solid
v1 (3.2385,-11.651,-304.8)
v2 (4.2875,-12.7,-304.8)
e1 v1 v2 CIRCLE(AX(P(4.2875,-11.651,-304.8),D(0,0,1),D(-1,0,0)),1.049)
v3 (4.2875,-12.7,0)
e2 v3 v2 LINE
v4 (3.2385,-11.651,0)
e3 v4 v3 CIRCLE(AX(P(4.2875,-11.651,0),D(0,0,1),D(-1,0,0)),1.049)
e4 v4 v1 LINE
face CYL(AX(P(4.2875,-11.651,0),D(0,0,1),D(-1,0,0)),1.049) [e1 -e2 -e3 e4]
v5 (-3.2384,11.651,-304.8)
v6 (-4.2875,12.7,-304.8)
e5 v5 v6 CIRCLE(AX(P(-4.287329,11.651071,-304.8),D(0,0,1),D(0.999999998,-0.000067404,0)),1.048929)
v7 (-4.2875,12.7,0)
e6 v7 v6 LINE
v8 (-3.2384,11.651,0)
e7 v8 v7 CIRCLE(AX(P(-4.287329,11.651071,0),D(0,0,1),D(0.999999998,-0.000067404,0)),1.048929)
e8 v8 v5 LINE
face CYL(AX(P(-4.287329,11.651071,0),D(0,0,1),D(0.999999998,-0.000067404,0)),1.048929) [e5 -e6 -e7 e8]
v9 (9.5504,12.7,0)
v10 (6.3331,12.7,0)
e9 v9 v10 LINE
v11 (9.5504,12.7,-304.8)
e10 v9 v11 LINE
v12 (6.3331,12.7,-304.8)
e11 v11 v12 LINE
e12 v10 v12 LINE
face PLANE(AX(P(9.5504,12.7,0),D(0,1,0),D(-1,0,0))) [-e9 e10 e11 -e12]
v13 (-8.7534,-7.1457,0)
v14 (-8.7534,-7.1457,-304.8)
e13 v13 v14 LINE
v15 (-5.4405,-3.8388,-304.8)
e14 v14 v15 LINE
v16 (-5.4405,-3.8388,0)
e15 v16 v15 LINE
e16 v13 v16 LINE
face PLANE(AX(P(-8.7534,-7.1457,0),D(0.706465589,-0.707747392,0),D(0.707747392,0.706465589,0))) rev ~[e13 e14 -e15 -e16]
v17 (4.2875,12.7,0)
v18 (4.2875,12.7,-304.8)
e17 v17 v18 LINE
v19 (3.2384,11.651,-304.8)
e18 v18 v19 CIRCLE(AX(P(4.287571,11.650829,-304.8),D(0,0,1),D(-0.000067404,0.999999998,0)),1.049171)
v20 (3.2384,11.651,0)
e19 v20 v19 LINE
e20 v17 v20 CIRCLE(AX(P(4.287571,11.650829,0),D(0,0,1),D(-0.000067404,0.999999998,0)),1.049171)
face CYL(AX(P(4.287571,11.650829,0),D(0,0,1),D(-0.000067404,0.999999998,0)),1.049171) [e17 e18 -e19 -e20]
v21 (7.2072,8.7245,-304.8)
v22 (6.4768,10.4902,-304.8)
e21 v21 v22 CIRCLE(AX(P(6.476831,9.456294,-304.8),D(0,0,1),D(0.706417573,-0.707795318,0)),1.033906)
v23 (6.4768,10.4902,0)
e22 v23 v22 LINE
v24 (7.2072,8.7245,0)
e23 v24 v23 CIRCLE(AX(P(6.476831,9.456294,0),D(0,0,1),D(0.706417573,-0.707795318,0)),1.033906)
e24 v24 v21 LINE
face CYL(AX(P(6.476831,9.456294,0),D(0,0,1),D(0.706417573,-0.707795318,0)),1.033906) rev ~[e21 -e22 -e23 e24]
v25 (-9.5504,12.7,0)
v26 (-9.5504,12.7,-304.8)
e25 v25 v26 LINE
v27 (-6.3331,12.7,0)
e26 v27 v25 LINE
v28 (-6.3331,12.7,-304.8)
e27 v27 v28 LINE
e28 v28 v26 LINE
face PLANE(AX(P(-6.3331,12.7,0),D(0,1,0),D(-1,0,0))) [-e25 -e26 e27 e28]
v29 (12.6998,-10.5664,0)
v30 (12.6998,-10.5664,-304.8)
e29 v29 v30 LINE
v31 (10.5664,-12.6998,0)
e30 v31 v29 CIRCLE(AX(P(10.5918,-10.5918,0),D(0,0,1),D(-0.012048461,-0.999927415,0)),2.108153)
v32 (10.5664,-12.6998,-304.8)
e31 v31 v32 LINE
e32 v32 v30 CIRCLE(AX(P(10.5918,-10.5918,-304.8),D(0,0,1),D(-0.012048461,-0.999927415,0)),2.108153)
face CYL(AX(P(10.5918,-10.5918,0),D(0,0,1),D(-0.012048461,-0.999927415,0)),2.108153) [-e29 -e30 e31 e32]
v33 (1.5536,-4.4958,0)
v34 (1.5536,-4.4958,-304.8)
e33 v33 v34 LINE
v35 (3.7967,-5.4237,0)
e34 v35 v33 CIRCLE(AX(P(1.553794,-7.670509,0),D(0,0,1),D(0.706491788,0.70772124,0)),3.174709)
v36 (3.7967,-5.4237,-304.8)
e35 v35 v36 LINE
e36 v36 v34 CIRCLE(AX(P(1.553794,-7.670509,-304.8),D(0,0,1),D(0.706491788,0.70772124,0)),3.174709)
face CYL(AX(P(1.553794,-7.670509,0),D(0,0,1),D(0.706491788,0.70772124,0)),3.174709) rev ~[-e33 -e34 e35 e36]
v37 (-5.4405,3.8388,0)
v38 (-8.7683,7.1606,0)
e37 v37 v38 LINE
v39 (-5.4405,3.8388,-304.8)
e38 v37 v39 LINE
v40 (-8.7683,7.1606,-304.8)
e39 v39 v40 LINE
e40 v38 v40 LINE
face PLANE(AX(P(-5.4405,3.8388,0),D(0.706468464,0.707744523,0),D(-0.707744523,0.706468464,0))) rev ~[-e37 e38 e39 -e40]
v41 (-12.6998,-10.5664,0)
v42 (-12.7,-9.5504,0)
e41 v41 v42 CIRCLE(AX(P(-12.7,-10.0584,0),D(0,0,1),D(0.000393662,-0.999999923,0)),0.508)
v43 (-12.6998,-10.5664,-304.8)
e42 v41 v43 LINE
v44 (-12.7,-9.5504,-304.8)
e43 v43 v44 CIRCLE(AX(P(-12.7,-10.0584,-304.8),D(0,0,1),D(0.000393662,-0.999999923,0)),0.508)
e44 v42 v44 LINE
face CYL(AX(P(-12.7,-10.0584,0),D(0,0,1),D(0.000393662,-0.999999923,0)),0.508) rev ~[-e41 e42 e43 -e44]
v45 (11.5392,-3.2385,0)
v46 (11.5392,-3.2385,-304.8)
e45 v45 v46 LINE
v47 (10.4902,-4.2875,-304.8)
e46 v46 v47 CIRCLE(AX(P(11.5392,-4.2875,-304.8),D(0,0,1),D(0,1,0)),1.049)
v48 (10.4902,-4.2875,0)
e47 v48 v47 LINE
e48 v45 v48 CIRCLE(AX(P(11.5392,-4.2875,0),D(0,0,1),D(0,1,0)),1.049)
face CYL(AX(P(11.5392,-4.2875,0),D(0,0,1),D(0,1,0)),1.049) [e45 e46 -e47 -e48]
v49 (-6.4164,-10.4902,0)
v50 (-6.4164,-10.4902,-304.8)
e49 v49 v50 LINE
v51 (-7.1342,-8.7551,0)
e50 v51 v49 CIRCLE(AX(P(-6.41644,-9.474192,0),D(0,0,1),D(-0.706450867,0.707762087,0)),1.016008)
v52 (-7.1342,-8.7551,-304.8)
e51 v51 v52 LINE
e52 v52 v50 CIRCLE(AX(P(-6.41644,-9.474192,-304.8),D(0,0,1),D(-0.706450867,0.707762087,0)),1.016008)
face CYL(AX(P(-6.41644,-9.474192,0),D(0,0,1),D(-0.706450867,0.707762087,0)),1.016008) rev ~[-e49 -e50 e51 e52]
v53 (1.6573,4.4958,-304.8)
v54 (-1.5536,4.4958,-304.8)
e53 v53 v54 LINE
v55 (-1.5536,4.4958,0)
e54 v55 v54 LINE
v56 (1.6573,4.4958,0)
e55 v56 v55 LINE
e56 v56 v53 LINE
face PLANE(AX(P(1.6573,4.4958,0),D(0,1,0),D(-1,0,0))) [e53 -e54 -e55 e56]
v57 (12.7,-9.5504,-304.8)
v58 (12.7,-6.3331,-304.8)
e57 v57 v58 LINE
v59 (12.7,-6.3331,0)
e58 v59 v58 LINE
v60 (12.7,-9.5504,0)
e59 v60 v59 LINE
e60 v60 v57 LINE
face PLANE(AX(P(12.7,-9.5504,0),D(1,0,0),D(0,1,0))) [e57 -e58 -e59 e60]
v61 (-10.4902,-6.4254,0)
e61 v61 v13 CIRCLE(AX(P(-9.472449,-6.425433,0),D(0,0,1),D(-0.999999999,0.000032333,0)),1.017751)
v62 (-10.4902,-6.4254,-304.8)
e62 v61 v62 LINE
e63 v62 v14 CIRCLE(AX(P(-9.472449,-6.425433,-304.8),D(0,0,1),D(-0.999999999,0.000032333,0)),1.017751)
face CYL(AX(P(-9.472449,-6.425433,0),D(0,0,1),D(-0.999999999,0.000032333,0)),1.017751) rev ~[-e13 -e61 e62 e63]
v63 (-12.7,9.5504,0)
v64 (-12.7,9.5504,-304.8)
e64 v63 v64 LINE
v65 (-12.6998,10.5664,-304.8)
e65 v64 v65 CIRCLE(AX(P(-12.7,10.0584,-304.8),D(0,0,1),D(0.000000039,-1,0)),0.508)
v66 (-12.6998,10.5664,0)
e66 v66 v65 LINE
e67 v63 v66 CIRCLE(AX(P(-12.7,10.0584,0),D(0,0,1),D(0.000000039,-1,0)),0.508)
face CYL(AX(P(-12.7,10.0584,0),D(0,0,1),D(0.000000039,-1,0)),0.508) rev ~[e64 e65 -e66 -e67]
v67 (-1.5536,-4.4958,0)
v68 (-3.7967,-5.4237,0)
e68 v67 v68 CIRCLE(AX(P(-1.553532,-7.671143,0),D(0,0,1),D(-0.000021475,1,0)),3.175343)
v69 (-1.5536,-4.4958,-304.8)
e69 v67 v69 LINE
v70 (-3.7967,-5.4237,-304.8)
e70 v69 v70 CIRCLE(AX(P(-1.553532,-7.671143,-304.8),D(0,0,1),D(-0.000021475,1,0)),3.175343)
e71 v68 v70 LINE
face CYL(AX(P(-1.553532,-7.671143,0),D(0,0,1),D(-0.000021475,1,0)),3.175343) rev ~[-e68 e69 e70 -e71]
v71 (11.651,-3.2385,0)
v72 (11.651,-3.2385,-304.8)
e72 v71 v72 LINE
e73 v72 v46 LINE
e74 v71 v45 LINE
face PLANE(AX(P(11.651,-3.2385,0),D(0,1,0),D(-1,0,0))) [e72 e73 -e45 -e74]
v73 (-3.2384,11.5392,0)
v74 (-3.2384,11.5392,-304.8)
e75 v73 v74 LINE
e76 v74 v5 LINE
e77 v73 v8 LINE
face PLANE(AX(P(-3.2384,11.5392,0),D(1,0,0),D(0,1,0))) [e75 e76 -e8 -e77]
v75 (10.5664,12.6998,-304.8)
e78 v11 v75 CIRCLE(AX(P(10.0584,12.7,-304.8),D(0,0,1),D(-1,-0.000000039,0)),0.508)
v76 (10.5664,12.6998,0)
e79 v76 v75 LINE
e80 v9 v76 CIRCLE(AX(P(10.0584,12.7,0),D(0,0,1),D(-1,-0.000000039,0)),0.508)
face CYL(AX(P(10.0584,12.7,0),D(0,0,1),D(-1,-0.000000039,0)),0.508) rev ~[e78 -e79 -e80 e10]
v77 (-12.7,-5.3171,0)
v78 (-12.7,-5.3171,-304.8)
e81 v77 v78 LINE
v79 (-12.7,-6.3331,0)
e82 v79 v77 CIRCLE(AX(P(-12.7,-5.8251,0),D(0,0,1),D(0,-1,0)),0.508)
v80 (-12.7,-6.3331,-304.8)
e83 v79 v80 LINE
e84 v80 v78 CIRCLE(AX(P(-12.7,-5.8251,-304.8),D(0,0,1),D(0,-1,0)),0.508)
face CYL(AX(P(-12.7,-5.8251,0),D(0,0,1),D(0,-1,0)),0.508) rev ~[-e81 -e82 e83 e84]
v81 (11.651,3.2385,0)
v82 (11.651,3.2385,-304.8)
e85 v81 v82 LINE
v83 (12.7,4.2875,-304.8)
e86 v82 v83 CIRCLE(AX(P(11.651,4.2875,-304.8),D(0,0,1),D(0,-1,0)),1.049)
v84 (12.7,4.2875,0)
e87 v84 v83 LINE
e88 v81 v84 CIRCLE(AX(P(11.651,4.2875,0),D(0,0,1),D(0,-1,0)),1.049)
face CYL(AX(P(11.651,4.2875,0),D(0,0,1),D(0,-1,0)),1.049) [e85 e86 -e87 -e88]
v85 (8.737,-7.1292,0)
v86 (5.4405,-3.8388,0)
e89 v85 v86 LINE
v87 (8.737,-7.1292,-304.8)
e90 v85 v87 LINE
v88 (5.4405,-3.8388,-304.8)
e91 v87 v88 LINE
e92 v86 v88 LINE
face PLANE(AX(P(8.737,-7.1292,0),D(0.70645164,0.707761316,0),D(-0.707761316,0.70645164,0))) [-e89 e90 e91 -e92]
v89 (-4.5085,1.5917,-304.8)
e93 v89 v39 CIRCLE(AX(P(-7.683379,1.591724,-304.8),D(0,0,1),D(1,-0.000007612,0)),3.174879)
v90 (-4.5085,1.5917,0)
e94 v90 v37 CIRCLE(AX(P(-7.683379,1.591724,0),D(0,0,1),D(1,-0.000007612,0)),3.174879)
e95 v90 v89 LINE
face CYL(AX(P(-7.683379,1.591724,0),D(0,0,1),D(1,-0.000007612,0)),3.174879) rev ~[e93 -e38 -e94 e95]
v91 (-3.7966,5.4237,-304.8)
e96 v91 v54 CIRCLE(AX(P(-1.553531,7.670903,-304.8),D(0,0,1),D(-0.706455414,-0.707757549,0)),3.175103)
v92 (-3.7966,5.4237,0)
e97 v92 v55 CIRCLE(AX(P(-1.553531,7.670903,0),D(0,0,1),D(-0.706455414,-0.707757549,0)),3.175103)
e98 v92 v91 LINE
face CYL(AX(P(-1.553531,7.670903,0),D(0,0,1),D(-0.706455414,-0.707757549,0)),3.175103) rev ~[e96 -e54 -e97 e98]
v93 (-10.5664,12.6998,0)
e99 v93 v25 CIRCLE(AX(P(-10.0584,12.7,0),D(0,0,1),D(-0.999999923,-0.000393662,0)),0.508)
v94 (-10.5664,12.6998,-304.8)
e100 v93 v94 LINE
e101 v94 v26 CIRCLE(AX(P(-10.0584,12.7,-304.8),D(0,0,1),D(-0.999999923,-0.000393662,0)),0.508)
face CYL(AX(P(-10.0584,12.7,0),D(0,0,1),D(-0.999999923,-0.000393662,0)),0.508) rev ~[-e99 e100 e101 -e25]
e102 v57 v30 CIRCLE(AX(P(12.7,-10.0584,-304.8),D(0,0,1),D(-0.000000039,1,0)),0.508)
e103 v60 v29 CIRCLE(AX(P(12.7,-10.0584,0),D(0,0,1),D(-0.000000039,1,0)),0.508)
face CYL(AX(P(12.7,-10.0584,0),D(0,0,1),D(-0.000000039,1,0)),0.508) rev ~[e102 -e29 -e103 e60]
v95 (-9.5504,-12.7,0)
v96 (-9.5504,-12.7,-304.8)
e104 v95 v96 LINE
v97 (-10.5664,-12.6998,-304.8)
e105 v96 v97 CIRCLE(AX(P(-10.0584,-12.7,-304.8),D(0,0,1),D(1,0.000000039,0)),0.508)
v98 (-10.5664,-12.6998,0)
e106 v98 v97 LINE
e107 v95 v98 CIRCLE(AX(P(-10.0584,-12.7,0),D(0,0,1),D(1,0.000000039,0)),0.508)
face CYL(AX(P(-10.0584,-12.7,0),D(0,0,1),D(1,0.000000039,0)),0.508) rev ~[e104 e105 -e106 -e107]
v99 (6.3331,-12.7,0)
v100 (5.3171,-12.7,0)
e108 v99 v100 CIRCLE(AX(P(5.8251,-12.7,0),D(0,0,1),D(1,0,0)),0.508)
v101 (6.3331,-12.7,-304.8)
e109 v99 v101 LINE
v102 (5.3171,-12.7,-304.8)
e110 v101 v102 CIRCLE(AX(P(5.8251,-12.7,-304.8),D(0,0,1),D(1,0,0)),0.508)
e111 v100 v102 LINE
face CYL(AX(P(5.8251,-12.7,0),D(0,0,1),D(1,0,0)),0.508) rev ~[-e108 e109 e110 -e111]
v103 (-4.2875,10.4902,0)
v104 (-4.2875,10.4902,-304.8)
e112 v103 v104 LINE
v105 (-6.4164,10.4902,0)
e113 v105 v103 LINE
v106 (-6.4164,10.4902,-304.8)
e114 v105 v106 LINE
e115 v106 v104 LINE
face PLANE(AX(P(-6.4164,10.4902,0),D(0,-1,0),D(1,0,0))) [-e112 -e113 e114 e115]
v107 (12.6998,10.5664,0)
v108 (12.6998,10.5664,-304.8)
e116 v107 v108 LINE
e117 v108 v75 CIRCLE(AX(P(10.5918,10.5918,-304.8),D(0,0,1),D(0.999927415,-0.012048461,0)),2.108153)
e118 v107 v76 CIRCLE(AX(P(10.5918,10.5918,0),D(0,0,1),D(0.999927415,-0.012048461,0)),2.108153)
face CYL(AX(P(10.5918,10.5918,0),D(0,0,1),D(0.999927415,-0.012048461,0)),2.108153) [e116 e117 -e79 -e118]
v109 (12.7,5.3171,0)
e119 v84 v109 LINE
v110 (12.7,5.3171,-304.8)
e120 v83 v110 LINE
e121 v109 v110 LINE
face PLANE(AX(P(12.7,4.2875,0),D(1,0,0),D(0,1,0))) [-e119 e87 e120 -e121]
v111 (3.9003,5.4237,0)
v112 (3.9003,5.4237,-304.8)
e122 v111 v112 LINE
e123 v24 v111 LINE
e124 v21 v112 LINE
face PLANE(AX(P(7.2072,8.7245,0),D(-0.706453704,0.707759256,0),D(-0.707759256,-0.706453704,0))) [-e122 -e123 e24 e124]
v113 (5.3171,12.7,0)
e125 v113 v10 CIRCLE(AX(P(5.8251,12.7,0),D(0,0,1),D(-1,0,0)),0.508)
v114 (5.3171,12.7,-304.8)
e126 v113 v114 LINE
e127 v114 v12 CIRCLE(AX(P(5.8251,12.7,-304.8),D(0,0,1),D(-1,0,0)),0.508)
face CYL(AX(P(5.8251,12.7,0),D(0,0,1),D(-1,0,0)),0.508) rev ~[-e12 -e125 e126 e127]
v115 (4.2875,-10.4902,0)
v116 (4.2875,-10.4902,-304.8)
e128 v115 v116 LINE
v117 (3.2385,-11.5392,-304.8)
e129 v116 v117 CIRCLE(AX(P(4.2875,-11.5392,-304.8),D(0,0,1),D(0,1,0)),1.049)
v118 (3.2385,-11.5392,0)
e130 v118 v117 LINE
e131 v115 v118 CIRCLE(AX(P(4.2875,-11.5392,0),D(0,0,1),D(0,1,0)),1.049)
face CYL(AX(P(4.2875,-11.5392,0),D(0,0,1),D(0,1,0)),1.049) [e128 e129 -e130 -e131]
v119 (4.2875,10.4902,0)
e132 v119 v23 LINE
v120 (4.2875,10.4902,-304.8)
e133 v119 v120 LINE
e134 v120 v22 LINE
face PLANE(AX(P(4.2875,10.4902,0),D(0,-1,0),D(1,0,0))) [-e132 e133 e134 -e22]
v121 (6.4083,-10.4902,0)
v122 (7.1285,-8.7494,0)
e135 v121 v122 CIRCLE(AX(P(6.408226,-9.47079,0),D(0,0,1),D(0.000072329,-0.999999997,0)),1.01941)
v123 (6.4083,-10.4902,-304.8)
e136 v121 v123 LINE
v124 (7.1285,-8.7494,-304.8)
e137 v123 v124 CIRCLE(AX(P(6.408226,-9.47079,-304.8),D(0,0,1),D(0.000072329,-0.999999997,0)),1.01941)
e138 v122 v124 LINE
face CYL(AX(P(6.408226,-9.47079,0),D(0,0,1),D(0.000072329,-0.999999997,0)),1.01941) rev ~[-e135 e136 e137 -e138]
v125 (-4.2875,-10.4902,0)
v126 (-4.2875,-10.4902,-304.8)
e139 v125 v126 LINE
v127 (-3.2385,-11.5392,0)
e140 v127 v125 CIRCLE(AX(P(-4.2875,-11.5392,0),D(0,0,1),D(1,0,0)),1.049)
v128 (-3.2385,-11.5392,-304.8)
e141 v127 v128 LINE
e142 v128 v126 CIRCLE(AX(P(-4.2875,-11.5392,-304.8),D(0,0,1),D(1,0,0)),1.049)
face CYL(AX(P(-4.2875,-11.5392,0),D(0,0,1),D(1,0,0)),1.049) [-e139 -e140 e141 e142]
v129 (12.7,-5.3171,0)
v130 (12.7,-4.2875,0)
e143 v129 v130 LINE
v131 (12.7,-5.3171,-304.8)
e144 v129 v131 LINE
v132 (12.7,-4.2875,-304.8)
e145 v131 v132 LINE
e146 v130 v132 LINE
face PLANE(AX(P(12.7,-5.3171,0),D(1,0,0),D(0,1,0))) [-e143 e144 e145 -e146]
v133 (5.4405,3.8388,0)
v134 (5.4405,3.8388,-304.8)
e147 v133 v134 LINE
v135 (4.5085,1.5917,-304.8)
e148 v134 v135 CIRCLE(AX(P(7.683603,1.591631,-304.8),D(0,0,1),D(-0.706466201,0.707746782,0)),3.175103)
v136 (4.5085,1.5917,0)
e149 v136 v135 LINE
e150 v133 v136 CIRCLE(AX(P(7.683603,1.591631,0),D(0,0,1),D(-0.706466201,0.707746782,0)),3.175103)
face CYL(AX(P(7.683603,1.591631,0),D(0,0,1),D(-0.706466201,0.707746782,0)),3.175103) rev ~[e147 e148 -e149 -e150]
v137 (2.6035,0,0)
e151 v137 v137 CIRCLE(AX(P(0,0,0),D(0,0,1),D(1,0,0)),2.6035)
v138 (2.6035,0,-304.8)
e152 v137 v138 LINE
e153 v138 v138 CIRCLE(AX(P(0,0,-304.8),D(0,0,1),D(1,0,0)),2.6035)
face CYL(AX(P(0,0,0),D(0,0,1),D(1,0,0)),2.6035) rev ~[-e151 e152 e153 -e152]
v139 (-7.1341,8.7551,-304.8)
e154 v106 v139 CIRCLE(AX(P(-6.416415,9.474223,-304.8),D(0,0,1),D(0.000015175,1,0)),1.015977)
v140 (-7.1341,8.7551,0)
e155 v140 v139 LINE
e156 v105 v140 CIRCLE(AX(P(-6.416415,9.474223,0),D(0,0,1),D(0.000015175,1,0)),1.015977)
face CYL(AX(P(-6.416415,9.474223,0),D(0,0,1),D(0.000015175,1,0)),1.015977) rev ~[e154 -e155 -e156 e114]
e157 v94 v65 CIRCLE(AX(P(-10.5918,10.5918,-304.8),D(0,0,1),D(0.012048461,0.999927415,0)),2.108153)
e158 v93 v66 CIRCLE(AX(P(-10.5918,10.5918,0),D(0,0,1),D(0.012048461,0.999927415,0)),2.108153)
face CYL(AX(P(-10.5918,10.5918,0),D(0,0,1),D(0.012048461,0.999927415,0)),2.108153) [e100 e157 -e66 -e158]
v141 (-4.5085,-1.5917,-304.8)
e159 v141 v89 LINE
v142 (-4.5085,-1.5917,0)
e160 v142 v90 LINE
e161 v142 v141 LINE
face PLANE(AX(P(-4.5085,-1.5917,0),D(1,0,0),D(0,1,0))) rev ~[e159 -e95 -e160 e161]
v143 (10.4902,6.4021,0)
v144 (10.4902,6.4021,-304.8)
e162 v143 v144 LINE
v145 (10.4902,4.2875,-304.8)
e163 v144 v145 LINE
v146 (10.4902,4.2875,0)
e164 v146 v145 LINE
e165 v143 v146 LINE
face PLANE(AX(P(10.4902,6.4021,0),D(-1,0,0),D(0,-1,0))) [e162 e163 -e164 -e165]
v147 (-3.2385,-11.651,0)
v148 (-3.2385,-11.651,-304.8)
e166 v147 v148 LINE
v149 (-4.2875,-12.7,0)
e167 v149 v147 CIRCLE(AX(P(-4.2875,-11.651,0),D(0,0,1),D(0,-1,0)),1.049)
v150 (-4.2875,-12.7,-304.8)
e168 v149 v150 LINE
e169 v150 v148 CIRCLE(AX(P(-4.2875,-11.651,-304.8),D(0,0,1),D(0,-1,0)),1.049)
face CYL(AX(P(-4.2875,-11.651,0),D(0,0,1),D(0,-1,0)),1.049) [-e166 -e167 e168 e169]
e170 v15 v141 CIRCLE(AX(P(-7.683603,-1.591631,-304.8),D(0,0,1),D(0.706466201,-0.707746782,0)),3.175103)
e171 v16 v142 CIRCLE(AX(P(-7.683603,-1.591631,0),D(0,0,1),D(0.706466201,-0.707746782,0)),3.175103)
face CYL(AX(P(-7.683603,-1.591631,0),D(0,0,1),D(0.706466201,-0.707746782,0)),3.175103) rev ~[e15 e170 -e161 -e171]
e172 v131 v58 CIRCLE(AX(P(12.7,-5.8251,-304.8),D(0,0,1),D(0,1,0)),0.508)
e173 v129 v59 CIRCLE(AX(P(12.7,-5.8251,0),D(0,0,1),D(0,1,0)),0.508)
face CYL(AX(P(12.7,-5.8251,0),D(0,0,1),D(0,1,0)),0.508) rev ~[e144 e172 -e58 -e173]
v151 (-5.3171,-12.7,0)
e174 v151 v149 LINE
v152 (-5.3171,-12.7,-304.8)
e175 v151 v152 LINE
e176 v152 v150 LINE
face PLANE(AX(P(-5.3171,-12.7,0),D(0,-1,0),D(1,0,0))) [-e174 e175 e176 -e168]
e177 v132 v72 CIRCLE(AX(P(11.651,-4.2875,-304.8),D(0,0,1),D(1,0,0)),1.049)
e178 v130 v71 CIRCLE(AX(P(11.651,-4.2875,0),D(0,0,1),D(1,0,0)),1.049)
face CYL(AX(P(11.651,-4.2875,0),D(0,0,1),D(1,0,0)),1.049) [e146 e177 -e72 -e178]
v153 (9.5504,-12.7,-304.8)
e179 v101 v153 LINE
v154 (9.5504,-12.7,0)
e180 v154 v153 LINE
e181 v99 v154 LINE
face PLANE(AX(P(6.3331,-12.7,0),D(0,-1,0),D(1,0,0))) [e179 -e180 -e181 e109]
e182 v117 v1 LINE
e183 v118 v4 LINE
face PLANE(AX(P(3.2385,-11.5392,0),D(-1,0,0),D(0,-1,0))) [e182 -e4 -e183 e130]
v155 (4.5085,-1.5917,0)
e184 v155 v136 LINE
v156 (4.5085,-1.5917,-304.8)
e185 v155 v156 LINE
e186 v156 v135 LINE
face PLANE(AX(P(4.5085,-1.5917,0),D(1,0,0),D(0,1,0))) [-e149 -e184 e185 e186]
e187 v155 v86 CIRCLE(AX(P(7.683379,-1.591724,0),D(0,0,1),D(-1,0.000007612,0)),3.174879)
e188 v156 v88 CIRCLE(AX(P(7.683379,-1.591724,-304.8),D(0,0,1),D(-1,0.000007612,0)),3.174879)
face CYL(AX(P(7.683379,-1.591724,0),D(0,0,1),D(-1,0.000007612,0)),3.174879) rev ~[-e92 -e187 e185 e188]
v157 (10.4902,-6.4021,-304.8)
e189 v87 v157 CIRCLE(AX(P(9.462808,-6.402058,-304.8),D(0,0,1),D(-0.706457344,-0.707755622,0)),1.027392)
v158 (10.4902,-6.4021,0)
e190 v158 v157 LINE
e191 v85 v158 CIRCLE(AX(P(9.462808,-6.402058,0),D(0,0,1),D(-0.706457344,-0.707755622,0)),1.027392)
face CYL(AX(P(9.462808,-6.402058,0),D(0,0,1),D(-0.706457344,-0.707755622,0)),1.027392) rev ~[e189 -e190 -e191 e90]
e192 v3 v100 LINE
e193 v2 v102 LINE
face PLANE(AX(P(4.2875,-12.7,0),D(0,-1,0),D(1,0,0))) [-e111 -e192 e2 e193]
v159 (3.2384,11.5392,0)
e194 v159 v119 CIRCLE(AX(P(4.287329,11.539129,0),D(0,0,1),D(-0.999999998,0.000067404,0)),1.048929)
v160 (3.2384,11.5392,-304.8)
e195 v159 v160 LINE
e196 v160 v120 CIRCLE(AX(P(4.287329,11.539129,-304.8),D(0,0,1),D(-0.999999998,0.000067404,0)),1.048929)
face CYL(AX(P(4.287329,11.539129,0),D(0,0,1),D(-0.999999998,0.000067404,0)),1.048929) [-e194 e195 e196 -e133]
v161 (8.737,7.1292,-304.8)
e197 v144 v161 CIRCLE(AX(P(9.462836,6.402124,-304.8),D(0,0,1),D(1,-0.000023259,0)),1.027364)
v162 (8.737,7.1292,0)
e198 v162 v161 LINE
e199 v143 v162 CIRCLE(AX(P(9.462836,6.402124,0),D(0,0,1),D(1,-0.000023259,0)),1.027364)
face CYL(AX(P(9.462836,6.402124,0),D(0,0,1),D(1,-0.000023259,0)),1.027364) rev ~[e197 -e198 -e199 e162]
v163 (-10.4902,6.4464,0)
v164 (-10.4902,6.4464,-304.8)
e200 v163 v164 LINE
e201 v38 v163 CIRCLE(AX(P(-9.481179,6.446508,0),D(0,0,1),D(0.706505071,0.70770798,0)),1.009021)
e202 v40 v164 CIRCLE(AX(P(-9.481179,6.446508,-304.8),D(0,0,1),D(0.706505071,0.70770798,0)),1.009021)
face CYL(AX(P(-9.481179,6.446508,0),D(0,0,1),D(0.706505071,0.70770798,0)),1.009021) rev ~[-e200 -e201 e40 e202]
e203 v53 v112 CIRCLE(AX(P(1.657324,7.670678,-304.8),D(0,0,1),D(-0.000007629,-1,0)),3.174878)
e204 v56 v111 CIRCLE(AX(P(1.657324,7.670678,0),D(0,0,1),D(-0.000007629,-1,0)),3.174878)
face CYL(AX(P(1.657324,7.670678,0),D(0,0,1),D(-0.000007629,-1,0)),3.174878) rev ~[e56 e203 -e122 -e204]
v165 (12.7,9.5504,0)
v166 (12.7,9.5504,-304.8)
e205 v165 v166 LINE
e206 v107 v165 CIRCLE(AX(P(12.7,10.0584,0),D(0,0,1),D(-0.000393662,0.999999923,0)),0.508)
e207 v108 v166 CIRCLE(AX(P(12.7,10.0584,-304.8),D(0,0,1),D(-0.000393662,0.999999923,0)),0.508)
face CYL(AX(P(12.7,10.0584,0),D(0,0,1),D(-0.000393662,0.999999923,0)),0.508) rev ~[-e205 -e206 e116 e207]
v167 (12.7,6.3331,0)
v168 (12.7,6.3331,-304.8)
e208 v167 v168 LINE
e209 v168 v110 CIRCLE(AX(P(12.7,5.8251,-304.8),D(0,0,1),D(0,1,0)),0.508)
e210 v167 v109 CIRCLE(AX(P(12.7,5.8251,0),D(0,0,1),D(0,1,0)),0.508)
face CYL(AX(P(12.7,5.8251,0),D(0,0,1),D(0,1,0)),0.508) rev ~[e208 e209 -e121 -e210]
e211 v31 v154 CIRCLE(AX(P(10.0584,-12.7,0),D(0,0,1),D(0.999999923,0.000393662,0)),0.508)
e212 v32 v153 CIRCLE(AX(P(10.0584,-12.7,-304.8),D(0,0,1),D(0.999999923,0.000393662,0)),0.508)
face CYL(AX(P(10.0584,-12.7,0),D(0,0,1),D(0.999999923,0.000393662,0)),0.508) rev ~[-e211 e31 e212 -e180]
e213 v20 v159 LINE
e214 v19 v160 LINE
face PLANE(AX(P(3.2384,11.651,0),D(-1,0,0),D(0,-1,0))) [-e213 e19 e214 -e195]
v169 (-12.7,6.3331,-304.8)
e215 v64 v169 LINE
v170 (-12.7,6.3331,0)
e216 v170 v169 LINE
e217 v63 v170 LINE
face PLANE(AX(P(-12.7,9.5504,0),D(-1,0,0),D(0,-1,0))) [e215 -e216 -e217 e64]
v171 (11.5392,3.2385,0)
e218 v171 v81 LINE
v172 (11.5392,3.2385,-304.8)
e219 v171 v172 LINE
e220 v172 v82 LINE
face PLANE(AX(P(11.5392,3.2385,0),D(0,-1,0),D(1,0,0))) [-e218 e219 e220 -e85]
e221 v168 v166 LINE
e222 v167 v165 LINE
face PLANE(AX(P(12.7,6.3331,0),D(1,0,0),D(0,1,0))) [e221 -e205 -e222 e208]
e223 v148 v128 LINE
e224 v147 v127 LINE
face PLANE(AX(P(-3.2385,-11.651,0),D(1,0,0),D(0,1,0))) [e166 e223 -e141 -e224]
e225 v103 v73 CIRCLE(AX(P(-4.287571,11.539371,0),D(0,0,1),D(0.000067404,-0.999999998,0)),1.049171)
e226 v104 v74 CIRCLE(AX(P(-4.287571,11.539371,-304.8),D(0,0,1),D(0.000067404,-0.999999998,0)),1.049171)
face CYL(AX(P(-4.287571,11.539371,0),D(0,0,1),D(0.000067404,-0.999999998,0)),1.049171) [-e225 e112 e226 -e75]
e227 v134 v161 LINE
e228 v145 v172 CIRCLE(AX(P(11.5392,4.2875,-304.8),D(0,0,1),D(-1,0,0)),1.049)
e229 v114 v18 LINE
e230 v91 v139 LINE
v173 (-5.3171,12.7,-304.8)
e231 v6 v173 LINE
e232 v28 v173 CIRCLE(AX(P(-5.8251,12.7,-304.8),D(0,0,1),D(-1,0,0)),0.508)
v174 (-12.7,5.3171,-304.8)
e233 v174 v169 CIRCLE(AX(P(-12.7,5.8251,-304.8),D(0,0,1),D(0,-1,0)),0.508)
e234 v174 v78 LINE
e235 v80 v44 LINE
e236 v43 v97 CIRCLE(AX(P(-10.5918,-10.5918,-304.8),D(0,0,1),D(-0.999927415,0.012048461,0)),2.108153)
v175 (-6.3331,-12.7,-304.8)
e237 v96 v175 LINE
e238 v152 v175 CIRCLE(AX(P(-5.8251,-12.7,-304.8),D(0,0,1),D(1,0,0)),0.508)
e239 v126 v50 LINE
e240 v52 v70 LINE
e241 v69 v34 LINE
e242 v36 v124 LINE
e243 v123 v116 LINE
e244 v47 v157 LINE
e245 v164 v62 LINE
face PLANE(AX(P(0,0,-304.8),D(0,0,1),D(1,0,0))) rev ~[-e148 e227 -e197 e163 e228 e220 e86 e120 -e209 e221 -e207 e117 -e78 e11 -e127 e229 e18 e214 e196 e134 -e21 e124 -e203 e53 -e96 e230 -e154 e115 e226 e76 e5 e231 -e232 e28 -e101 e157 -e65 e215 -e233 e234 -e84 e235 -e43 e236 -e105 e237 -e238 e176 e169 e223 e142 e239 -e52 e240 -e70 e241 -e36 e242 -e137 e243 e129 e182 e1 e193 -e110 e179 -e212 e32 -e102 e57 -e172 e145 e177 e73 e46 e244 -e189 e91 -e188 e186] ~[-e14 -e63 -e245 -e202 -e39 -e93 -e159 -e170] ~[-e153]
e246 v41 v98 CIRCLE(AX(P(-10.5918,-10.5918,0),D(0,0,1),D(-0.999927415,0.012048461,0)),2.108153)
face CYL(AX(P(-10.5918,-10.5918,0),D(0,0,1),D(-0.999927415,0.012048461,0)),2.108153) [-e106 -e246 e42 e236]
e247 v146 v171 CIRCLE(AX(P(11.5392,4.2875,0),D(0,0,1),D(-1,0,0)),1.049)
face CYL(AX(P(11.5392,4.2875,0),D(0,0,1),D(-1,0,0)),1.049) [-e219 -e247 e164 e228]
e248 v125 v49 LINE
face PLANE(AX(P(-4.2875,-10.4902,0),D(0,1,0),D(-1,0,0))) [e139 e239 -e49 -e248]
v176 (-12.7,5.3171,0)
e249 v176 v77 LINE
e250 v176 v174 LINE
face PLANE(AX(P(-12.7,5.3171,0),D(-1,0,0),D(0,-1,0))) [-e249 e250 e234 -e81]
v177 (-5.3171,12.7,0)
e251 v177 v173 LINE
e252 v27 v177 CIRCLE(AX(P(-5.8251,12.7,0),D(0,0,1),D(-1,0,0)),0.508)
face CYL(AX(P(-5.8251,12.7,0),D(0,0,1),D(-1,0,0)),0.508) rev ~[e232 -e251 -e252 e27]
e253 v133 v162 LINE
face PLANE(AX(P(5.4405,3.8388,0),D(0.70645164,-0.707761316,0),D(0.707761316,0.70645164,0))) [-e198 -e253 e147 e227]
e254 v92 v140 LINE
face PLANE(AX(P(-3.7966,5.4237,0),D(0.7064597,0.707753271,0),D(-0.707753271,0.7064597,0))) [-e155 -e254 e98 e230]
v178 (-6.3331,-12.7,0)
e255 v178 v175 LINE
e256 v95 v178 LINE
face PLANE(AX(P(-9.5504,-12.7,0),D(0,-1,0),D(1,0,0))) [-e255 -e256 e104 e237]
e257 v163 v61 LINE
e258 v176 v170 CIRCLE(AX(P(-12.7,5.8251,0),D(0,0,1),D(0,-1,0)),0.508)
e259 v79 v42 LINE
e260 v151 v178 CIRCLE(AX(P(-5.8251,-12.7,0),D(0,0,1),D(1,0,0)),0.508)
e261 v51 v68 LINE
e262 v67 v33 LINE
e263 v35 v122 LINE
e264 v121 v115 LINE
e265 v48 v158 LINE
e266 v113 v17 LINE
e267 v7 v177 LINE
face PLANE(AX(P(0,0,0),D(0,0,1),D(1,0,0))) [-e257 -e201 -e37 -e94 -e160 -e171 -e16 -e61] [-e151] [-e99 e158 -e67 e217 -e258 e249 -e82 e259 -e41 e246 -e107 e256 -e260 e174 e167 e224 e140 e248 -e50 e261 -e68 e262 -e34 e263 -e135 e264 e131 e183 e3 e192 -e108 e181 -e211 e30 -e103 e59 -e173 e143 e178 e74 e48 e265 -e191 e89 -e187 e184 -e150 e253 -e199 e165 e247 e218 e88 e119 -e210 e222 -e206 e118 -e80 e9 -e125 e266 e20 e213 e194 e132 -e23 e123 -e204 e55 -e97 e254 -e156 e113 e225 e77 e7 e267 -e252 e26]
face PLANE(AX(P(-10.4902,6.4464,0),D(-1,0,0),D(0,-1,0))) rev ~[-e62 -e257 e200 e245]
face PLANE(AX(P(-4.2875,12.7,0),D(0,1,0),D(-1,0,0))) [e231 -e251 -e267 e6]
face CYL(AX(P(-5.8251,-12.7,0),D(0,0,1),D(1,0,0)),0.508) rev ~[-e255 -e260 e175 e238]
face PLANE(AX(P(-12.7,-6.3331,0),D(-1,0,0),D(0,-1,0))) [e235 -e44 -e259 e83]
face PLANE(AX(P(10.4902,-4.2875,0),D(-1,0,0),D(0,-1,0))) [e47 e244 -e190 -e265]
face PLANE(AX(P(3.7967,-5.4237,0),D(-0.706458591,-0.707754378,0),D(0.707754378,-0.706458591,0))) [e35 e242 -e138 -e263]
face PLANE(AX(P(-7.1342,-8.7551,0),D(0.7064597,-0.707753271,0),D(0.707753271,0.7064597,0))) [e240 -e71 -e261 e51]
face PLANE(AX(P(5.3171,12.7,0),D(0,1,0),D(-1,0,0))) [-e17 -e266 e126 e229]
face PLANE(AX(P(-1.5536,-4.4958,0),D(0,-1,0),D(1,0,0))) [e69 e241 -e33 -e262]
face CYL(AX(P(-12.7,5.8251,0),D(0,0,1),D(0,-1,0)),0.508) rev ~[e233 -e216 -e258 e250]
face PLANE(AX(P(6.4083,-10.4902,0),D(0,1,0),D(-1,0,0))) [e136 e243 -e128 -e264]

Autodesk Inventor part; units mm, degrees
ref_plane "YZ Plane" through (0, 0, 0) normal (1, 0, 0) x (0, 1, 0)
ref_plane "XZ Plane" through (0, 0, 0) normal (0, 1, 0) x (-1, 0, 0)
ref_plane "XY Plane" through (0, 0, 0) normal (0, 0, 1) x (1, 0, 0)
sketch "Sketch1" plane through (0, 0, 0) normal (0, 0, 1) x (1, 0, 0)
  circle A0 centre (0, 0) radius 2.6035
  arc A1 (-8.7683, 7.1606) -> (-10.4902, 6.4464) centre (-9.4812, 6.4464) ccw
  line L0 (-5.4405, 3.8388) -> (-8.7683, 7.1606)
  arc A2 (-4.5085, 1.5917) -> (-5.4405, 3.8388) centre (-7.6835, 1.5917) ccw
  line L1 (-4.5085, -1.5917) -> (-4.5085, 1.5917)
  arc A3 (-5.4405, -3.8388) -> (-4.5085, -1.5917) centre (-7.6835, -1.5917) ccw
  line L2 (-8.7534, -7.1457) -> (-5.4405, -3.8388)
  arc A4 (-10.4902, -6.4254) -> (-8.7534, -7.1457) centre (-9.4724, -6.4254) ccw
  line L3 (-10.4902, 6.4464) -> (-10.4902, -6.4254)
  arc A5 (-7.1342, -8.7551) -> (-6.4164, -10.4902) centre (-6.4164, -9.4742) ccw
  line L4 (-7.1342, -8.7551) -> (-3.7967, -5.4237)
  arc A6 (-1.5536, -4.4958) -> (-3.7967, -5.4237) centre (-1.5536, -7.6708) ccw
  line L5 (-1.5536, -4.4958) -> (1.5536, -4.4958)
  arc A7 (3.7967, -5.4237) -> (1.5536, -4.4958) centre (1.5536, -7.6708) ccw
  line L6 (3.7967, -5.4237) -> (7.1285, -8.7494)
  arc A8 (6.4083, -10.4902) -> (7.1285, -8.7494) centre (6.4083, -9.4709) ccw
  line L7 (6.4083, -10.4902) -> (4.2875, -10.4902)
  arc A9 (4.2875, -10.4902) -> (3.2385, -11.5392) centre (4.2875, -11.5392) ccw
  line L8 (3.2385, -11.5392) -> (3.2385, -11.651)
  arc A10 (3.2385, -11.651) -> (4.2875, -12.7) centre (4.2875, -11.651) ccw
  line L9 (4.2875, -12.7) -> (5.3171, -12.7)
  arc A11 (6.3331, -12.7) -> (5.3171, -12.7) centre (5.8251, -12.7) ccw
  line L10 (6.3331, -12.7) -> (9.5504, -12.7)
  arc A12 (10.5664, -12.6998) -> (9.5504, -12.7) centre (10.0584, -12.7) ccw
  arc A13 (10.5664, -12.6998) -> (12.6998, -10.5664) centre (10.5918, -10.5918) ccw
  arc A14 (12.7, -9.5504) -> (12.6998, -10.5664) centre (12.7, -10.0584) ccw
  line L11 (12.7, -9.5504) -> (12.7, -6.3331)
  arc A15 (12.7, -5.3171) -> (12.7, -6.3331) centre (12.7, -5.8251) ccw
  line L12 (12.7, -5.3171) -> (12.7, -4.2875)
  arc A16 (12.7, -4.2875) -> (11.651, -3.2385) centre (11.651, -4.2875) ccw
  line L13 (11.651, -3.2385) -> (11.5392, -3.2385)
  arc A17 (11.5392, -3.2385) -> (10.4902, -4.2875) centre (11.5392, -4.2875) ccw
  line L14 (10.4902, -4.2875) -> (10.4902, -6.4021)
  arc A18 (8.737, -7.1292) -> (10.4902, -6.4021) centre (9.4628, -6.4021) ccw
  line L15 (8.737, -7.1292) -> (5.4405, -3.8388)
  arc A19 (4.5085, -1.5917) -> (5.4405, -3.8388) centre (7.6835, -1.5917) ccw
  line L16 (4.5085, -1.5917) -> (4.5085, 1.5917)
  arc A20 (5.4405, 3.8388) -> (4.5085, 1.5917) centre (7.6835, 1.5917) ccw
  line L17 (5.4405, 3.8388) -> (8.737, 7.1292)
  arc A21 (10.4902, 6.4021) -> (8.737, 7.1292) centre (9.4628, 6.4021) ccw
  line L18 (10.4902, 6.4021) -> (10.4902, 4.2875)
  arc A22 (10.4902, 4.2875) -> (11.5392, 3.2385) centre (11.5392, 4.2875) ccw
  line L19 (11.5392, 3.2385) -> (11.651, 3.2385)
  arc A23 (11.651, 3.2385) -> (12.7, 4.2875) centre (11.651, 4.2875) ccw
  line L20 (12.7, 4.2875) -> (12.7, 5.3171)
  arc A24 (12.7, 6.3331) -> (12.7, 5.3171) centre (12.7, 5.8251) ccw
  line L21 (12.7, 6.3331) -> (12.7, 9.5504)
  arc A25 (12.6998, 10.5664) -> (12.7, 9.5504) centre (12.7, 10.0584) ccw
  arc A26 (12.6998, 10.5664) -> (10.5664, 12.6998) centre (10.5918, 10.5918) ccw
  arc A27 (9.5504, 12.7) -> (10.5664, 12.6998) centre (10.0584, 12.7) ccw
  line L22 (9.5504, 12.7) -> (6.3331, 12.7)
  arc A28 (5.3171, 12.7) -> (6.3331, 12.7) centre (5.8251, 12.7) ccw
  line L23 (5.3171, 12.7) -> (4.2875, 12.7)
  arc A29 (4.2875, 12.7) -> (3.2384, 11.651) centre (4.2875, 11.651) ccw
  line L24 (3.2384, 11.651) -> (3.2384, 11.5392)
  arc A30 (3.2384, 11.5392) -> (4.2875, 10.4902) centre (4.2875, 11.5392) ccw
  line L25 (4.2875, 10.4902) -> (6.4768, 10.4902)
  arc A31 (7.2072, 8.7245) -> (6.4768, 10.4902) centre (6.4768, 9.4563) ccw
  line L26 (7.2072, 8.7245) -> (3.9003, 5.4237)
  arc A32 (1.6573, 4.4958) -> (3.9003, 5.4237) centre (1.6573, 7.6708) ccw
  line L27 (1.6573, 4.4958) -> (-1.5536, 4.4958)
  arc A33 (-3.7966, 5.4237) -> (-1.5536, 4.4958) centre (-1.5536, 7.6708) ccw
  line L28 (-3.7966, 5.4237) -> (-7.1341, 8.7551)
  arc A34 (-6.4164, 10.4902) -> (-7.1341, 8.7551) centre (-6.4164, 9.4742) ccw
  line L29 (-6.4164, 10.4902) -> (-4.2875, 10.4902)
  arc A35 (-4.2875, 10.4902) -> (-3.2384, 11.5392) centre (-4.2875, 11.5392) ccw
  line L30 (-3.2384, 11.5392) -> (-3.2384, 11.651)
  arc A36 (-3.2384, 11.651) -> (-4.2875, 12.7) centre (-4.2875, 11.651) ccw
  line L31 (-4.2875, 12.7) -> (-5.3171, 12.7)
  arc A37 (-6.3331, 12.7) -> (-5.3171, 12.7) centre (-5.8251, 12.7) ccw
  line L32 (-6.3331, 12.7) -> (-9.5504, 12.7)
  arc A38 (-10.5664, 12.6998) -> (-9.5504, 12.7) centre (-10.0584, 12.7) ccw
  arc A39 (-10.5664, 12.6998) -> (-12.6998, 10.5664) centre (-10.5918, 10.5918) ccw
  arc A40 (-12.7, 9.5504) -> (-12.6998, 10.5664) centre (-12.7, 10.0584) ccw
  line L33 (-12.7, 9.5504) -> (-12.7, 6.3331)
  arc A41 (-12.7, 5.3171) -> (-12.7, 6.3331) centre (-12.7, 5.8251) ccw
  line L34 (-12.7, 5.3171) -> (-12.7, -5.3171)
  arc A42 (-12.7, -6.3331) -> (-12.7, -5.3171) centre (-12.7, -5.8251) ccw
  line L35 (-12.7, -6.3331) -> (-12.7, -9.5504)
  arc A43 (-12.6998, -10.5664) -> (-12.7, -9.5504) centre (-12.7, -10.0584) ccw
  arc A44 (-12.6998, -10.5664) -> (-10.5664, -12.6998) centre (-10.5918, -10.5918) ccw
  arc A45 (-9.5504, -12.7) -> (-10.5664, -12.6998) centre (-10.0584, -12.7) ccw
  line L36 (-9.5504, -12.7) -> (-6.3331, -12.7)
  arc A46 (-5.3171, -12.7) -> (-6.3331, -12.7) centre (-5.8251, -12.7) ccw
  line L37 (-5.3171, -12.7) -> (-4.2875, -12.7)
  arc A47 (-4.2875, -12.7) -> (-3.2385, -11.651) centre (-4.2875, -11.651) ccw
  line L38 (-3.2385, -11.651) -> (-3.2385, -11.5392)
  arc A48 (-3.2385, -11.5392) -> (-4.2875, -10.4902) centre (-4.2875, -11.5392) ccw
  line L39 (-4.2875, -10.4902) -> (-6.4164, -10.4902)
extrude "Extrusion1" add sketch "Sketch1" against normal blind 304.8
properties part number "1003-BLACK-FB"
